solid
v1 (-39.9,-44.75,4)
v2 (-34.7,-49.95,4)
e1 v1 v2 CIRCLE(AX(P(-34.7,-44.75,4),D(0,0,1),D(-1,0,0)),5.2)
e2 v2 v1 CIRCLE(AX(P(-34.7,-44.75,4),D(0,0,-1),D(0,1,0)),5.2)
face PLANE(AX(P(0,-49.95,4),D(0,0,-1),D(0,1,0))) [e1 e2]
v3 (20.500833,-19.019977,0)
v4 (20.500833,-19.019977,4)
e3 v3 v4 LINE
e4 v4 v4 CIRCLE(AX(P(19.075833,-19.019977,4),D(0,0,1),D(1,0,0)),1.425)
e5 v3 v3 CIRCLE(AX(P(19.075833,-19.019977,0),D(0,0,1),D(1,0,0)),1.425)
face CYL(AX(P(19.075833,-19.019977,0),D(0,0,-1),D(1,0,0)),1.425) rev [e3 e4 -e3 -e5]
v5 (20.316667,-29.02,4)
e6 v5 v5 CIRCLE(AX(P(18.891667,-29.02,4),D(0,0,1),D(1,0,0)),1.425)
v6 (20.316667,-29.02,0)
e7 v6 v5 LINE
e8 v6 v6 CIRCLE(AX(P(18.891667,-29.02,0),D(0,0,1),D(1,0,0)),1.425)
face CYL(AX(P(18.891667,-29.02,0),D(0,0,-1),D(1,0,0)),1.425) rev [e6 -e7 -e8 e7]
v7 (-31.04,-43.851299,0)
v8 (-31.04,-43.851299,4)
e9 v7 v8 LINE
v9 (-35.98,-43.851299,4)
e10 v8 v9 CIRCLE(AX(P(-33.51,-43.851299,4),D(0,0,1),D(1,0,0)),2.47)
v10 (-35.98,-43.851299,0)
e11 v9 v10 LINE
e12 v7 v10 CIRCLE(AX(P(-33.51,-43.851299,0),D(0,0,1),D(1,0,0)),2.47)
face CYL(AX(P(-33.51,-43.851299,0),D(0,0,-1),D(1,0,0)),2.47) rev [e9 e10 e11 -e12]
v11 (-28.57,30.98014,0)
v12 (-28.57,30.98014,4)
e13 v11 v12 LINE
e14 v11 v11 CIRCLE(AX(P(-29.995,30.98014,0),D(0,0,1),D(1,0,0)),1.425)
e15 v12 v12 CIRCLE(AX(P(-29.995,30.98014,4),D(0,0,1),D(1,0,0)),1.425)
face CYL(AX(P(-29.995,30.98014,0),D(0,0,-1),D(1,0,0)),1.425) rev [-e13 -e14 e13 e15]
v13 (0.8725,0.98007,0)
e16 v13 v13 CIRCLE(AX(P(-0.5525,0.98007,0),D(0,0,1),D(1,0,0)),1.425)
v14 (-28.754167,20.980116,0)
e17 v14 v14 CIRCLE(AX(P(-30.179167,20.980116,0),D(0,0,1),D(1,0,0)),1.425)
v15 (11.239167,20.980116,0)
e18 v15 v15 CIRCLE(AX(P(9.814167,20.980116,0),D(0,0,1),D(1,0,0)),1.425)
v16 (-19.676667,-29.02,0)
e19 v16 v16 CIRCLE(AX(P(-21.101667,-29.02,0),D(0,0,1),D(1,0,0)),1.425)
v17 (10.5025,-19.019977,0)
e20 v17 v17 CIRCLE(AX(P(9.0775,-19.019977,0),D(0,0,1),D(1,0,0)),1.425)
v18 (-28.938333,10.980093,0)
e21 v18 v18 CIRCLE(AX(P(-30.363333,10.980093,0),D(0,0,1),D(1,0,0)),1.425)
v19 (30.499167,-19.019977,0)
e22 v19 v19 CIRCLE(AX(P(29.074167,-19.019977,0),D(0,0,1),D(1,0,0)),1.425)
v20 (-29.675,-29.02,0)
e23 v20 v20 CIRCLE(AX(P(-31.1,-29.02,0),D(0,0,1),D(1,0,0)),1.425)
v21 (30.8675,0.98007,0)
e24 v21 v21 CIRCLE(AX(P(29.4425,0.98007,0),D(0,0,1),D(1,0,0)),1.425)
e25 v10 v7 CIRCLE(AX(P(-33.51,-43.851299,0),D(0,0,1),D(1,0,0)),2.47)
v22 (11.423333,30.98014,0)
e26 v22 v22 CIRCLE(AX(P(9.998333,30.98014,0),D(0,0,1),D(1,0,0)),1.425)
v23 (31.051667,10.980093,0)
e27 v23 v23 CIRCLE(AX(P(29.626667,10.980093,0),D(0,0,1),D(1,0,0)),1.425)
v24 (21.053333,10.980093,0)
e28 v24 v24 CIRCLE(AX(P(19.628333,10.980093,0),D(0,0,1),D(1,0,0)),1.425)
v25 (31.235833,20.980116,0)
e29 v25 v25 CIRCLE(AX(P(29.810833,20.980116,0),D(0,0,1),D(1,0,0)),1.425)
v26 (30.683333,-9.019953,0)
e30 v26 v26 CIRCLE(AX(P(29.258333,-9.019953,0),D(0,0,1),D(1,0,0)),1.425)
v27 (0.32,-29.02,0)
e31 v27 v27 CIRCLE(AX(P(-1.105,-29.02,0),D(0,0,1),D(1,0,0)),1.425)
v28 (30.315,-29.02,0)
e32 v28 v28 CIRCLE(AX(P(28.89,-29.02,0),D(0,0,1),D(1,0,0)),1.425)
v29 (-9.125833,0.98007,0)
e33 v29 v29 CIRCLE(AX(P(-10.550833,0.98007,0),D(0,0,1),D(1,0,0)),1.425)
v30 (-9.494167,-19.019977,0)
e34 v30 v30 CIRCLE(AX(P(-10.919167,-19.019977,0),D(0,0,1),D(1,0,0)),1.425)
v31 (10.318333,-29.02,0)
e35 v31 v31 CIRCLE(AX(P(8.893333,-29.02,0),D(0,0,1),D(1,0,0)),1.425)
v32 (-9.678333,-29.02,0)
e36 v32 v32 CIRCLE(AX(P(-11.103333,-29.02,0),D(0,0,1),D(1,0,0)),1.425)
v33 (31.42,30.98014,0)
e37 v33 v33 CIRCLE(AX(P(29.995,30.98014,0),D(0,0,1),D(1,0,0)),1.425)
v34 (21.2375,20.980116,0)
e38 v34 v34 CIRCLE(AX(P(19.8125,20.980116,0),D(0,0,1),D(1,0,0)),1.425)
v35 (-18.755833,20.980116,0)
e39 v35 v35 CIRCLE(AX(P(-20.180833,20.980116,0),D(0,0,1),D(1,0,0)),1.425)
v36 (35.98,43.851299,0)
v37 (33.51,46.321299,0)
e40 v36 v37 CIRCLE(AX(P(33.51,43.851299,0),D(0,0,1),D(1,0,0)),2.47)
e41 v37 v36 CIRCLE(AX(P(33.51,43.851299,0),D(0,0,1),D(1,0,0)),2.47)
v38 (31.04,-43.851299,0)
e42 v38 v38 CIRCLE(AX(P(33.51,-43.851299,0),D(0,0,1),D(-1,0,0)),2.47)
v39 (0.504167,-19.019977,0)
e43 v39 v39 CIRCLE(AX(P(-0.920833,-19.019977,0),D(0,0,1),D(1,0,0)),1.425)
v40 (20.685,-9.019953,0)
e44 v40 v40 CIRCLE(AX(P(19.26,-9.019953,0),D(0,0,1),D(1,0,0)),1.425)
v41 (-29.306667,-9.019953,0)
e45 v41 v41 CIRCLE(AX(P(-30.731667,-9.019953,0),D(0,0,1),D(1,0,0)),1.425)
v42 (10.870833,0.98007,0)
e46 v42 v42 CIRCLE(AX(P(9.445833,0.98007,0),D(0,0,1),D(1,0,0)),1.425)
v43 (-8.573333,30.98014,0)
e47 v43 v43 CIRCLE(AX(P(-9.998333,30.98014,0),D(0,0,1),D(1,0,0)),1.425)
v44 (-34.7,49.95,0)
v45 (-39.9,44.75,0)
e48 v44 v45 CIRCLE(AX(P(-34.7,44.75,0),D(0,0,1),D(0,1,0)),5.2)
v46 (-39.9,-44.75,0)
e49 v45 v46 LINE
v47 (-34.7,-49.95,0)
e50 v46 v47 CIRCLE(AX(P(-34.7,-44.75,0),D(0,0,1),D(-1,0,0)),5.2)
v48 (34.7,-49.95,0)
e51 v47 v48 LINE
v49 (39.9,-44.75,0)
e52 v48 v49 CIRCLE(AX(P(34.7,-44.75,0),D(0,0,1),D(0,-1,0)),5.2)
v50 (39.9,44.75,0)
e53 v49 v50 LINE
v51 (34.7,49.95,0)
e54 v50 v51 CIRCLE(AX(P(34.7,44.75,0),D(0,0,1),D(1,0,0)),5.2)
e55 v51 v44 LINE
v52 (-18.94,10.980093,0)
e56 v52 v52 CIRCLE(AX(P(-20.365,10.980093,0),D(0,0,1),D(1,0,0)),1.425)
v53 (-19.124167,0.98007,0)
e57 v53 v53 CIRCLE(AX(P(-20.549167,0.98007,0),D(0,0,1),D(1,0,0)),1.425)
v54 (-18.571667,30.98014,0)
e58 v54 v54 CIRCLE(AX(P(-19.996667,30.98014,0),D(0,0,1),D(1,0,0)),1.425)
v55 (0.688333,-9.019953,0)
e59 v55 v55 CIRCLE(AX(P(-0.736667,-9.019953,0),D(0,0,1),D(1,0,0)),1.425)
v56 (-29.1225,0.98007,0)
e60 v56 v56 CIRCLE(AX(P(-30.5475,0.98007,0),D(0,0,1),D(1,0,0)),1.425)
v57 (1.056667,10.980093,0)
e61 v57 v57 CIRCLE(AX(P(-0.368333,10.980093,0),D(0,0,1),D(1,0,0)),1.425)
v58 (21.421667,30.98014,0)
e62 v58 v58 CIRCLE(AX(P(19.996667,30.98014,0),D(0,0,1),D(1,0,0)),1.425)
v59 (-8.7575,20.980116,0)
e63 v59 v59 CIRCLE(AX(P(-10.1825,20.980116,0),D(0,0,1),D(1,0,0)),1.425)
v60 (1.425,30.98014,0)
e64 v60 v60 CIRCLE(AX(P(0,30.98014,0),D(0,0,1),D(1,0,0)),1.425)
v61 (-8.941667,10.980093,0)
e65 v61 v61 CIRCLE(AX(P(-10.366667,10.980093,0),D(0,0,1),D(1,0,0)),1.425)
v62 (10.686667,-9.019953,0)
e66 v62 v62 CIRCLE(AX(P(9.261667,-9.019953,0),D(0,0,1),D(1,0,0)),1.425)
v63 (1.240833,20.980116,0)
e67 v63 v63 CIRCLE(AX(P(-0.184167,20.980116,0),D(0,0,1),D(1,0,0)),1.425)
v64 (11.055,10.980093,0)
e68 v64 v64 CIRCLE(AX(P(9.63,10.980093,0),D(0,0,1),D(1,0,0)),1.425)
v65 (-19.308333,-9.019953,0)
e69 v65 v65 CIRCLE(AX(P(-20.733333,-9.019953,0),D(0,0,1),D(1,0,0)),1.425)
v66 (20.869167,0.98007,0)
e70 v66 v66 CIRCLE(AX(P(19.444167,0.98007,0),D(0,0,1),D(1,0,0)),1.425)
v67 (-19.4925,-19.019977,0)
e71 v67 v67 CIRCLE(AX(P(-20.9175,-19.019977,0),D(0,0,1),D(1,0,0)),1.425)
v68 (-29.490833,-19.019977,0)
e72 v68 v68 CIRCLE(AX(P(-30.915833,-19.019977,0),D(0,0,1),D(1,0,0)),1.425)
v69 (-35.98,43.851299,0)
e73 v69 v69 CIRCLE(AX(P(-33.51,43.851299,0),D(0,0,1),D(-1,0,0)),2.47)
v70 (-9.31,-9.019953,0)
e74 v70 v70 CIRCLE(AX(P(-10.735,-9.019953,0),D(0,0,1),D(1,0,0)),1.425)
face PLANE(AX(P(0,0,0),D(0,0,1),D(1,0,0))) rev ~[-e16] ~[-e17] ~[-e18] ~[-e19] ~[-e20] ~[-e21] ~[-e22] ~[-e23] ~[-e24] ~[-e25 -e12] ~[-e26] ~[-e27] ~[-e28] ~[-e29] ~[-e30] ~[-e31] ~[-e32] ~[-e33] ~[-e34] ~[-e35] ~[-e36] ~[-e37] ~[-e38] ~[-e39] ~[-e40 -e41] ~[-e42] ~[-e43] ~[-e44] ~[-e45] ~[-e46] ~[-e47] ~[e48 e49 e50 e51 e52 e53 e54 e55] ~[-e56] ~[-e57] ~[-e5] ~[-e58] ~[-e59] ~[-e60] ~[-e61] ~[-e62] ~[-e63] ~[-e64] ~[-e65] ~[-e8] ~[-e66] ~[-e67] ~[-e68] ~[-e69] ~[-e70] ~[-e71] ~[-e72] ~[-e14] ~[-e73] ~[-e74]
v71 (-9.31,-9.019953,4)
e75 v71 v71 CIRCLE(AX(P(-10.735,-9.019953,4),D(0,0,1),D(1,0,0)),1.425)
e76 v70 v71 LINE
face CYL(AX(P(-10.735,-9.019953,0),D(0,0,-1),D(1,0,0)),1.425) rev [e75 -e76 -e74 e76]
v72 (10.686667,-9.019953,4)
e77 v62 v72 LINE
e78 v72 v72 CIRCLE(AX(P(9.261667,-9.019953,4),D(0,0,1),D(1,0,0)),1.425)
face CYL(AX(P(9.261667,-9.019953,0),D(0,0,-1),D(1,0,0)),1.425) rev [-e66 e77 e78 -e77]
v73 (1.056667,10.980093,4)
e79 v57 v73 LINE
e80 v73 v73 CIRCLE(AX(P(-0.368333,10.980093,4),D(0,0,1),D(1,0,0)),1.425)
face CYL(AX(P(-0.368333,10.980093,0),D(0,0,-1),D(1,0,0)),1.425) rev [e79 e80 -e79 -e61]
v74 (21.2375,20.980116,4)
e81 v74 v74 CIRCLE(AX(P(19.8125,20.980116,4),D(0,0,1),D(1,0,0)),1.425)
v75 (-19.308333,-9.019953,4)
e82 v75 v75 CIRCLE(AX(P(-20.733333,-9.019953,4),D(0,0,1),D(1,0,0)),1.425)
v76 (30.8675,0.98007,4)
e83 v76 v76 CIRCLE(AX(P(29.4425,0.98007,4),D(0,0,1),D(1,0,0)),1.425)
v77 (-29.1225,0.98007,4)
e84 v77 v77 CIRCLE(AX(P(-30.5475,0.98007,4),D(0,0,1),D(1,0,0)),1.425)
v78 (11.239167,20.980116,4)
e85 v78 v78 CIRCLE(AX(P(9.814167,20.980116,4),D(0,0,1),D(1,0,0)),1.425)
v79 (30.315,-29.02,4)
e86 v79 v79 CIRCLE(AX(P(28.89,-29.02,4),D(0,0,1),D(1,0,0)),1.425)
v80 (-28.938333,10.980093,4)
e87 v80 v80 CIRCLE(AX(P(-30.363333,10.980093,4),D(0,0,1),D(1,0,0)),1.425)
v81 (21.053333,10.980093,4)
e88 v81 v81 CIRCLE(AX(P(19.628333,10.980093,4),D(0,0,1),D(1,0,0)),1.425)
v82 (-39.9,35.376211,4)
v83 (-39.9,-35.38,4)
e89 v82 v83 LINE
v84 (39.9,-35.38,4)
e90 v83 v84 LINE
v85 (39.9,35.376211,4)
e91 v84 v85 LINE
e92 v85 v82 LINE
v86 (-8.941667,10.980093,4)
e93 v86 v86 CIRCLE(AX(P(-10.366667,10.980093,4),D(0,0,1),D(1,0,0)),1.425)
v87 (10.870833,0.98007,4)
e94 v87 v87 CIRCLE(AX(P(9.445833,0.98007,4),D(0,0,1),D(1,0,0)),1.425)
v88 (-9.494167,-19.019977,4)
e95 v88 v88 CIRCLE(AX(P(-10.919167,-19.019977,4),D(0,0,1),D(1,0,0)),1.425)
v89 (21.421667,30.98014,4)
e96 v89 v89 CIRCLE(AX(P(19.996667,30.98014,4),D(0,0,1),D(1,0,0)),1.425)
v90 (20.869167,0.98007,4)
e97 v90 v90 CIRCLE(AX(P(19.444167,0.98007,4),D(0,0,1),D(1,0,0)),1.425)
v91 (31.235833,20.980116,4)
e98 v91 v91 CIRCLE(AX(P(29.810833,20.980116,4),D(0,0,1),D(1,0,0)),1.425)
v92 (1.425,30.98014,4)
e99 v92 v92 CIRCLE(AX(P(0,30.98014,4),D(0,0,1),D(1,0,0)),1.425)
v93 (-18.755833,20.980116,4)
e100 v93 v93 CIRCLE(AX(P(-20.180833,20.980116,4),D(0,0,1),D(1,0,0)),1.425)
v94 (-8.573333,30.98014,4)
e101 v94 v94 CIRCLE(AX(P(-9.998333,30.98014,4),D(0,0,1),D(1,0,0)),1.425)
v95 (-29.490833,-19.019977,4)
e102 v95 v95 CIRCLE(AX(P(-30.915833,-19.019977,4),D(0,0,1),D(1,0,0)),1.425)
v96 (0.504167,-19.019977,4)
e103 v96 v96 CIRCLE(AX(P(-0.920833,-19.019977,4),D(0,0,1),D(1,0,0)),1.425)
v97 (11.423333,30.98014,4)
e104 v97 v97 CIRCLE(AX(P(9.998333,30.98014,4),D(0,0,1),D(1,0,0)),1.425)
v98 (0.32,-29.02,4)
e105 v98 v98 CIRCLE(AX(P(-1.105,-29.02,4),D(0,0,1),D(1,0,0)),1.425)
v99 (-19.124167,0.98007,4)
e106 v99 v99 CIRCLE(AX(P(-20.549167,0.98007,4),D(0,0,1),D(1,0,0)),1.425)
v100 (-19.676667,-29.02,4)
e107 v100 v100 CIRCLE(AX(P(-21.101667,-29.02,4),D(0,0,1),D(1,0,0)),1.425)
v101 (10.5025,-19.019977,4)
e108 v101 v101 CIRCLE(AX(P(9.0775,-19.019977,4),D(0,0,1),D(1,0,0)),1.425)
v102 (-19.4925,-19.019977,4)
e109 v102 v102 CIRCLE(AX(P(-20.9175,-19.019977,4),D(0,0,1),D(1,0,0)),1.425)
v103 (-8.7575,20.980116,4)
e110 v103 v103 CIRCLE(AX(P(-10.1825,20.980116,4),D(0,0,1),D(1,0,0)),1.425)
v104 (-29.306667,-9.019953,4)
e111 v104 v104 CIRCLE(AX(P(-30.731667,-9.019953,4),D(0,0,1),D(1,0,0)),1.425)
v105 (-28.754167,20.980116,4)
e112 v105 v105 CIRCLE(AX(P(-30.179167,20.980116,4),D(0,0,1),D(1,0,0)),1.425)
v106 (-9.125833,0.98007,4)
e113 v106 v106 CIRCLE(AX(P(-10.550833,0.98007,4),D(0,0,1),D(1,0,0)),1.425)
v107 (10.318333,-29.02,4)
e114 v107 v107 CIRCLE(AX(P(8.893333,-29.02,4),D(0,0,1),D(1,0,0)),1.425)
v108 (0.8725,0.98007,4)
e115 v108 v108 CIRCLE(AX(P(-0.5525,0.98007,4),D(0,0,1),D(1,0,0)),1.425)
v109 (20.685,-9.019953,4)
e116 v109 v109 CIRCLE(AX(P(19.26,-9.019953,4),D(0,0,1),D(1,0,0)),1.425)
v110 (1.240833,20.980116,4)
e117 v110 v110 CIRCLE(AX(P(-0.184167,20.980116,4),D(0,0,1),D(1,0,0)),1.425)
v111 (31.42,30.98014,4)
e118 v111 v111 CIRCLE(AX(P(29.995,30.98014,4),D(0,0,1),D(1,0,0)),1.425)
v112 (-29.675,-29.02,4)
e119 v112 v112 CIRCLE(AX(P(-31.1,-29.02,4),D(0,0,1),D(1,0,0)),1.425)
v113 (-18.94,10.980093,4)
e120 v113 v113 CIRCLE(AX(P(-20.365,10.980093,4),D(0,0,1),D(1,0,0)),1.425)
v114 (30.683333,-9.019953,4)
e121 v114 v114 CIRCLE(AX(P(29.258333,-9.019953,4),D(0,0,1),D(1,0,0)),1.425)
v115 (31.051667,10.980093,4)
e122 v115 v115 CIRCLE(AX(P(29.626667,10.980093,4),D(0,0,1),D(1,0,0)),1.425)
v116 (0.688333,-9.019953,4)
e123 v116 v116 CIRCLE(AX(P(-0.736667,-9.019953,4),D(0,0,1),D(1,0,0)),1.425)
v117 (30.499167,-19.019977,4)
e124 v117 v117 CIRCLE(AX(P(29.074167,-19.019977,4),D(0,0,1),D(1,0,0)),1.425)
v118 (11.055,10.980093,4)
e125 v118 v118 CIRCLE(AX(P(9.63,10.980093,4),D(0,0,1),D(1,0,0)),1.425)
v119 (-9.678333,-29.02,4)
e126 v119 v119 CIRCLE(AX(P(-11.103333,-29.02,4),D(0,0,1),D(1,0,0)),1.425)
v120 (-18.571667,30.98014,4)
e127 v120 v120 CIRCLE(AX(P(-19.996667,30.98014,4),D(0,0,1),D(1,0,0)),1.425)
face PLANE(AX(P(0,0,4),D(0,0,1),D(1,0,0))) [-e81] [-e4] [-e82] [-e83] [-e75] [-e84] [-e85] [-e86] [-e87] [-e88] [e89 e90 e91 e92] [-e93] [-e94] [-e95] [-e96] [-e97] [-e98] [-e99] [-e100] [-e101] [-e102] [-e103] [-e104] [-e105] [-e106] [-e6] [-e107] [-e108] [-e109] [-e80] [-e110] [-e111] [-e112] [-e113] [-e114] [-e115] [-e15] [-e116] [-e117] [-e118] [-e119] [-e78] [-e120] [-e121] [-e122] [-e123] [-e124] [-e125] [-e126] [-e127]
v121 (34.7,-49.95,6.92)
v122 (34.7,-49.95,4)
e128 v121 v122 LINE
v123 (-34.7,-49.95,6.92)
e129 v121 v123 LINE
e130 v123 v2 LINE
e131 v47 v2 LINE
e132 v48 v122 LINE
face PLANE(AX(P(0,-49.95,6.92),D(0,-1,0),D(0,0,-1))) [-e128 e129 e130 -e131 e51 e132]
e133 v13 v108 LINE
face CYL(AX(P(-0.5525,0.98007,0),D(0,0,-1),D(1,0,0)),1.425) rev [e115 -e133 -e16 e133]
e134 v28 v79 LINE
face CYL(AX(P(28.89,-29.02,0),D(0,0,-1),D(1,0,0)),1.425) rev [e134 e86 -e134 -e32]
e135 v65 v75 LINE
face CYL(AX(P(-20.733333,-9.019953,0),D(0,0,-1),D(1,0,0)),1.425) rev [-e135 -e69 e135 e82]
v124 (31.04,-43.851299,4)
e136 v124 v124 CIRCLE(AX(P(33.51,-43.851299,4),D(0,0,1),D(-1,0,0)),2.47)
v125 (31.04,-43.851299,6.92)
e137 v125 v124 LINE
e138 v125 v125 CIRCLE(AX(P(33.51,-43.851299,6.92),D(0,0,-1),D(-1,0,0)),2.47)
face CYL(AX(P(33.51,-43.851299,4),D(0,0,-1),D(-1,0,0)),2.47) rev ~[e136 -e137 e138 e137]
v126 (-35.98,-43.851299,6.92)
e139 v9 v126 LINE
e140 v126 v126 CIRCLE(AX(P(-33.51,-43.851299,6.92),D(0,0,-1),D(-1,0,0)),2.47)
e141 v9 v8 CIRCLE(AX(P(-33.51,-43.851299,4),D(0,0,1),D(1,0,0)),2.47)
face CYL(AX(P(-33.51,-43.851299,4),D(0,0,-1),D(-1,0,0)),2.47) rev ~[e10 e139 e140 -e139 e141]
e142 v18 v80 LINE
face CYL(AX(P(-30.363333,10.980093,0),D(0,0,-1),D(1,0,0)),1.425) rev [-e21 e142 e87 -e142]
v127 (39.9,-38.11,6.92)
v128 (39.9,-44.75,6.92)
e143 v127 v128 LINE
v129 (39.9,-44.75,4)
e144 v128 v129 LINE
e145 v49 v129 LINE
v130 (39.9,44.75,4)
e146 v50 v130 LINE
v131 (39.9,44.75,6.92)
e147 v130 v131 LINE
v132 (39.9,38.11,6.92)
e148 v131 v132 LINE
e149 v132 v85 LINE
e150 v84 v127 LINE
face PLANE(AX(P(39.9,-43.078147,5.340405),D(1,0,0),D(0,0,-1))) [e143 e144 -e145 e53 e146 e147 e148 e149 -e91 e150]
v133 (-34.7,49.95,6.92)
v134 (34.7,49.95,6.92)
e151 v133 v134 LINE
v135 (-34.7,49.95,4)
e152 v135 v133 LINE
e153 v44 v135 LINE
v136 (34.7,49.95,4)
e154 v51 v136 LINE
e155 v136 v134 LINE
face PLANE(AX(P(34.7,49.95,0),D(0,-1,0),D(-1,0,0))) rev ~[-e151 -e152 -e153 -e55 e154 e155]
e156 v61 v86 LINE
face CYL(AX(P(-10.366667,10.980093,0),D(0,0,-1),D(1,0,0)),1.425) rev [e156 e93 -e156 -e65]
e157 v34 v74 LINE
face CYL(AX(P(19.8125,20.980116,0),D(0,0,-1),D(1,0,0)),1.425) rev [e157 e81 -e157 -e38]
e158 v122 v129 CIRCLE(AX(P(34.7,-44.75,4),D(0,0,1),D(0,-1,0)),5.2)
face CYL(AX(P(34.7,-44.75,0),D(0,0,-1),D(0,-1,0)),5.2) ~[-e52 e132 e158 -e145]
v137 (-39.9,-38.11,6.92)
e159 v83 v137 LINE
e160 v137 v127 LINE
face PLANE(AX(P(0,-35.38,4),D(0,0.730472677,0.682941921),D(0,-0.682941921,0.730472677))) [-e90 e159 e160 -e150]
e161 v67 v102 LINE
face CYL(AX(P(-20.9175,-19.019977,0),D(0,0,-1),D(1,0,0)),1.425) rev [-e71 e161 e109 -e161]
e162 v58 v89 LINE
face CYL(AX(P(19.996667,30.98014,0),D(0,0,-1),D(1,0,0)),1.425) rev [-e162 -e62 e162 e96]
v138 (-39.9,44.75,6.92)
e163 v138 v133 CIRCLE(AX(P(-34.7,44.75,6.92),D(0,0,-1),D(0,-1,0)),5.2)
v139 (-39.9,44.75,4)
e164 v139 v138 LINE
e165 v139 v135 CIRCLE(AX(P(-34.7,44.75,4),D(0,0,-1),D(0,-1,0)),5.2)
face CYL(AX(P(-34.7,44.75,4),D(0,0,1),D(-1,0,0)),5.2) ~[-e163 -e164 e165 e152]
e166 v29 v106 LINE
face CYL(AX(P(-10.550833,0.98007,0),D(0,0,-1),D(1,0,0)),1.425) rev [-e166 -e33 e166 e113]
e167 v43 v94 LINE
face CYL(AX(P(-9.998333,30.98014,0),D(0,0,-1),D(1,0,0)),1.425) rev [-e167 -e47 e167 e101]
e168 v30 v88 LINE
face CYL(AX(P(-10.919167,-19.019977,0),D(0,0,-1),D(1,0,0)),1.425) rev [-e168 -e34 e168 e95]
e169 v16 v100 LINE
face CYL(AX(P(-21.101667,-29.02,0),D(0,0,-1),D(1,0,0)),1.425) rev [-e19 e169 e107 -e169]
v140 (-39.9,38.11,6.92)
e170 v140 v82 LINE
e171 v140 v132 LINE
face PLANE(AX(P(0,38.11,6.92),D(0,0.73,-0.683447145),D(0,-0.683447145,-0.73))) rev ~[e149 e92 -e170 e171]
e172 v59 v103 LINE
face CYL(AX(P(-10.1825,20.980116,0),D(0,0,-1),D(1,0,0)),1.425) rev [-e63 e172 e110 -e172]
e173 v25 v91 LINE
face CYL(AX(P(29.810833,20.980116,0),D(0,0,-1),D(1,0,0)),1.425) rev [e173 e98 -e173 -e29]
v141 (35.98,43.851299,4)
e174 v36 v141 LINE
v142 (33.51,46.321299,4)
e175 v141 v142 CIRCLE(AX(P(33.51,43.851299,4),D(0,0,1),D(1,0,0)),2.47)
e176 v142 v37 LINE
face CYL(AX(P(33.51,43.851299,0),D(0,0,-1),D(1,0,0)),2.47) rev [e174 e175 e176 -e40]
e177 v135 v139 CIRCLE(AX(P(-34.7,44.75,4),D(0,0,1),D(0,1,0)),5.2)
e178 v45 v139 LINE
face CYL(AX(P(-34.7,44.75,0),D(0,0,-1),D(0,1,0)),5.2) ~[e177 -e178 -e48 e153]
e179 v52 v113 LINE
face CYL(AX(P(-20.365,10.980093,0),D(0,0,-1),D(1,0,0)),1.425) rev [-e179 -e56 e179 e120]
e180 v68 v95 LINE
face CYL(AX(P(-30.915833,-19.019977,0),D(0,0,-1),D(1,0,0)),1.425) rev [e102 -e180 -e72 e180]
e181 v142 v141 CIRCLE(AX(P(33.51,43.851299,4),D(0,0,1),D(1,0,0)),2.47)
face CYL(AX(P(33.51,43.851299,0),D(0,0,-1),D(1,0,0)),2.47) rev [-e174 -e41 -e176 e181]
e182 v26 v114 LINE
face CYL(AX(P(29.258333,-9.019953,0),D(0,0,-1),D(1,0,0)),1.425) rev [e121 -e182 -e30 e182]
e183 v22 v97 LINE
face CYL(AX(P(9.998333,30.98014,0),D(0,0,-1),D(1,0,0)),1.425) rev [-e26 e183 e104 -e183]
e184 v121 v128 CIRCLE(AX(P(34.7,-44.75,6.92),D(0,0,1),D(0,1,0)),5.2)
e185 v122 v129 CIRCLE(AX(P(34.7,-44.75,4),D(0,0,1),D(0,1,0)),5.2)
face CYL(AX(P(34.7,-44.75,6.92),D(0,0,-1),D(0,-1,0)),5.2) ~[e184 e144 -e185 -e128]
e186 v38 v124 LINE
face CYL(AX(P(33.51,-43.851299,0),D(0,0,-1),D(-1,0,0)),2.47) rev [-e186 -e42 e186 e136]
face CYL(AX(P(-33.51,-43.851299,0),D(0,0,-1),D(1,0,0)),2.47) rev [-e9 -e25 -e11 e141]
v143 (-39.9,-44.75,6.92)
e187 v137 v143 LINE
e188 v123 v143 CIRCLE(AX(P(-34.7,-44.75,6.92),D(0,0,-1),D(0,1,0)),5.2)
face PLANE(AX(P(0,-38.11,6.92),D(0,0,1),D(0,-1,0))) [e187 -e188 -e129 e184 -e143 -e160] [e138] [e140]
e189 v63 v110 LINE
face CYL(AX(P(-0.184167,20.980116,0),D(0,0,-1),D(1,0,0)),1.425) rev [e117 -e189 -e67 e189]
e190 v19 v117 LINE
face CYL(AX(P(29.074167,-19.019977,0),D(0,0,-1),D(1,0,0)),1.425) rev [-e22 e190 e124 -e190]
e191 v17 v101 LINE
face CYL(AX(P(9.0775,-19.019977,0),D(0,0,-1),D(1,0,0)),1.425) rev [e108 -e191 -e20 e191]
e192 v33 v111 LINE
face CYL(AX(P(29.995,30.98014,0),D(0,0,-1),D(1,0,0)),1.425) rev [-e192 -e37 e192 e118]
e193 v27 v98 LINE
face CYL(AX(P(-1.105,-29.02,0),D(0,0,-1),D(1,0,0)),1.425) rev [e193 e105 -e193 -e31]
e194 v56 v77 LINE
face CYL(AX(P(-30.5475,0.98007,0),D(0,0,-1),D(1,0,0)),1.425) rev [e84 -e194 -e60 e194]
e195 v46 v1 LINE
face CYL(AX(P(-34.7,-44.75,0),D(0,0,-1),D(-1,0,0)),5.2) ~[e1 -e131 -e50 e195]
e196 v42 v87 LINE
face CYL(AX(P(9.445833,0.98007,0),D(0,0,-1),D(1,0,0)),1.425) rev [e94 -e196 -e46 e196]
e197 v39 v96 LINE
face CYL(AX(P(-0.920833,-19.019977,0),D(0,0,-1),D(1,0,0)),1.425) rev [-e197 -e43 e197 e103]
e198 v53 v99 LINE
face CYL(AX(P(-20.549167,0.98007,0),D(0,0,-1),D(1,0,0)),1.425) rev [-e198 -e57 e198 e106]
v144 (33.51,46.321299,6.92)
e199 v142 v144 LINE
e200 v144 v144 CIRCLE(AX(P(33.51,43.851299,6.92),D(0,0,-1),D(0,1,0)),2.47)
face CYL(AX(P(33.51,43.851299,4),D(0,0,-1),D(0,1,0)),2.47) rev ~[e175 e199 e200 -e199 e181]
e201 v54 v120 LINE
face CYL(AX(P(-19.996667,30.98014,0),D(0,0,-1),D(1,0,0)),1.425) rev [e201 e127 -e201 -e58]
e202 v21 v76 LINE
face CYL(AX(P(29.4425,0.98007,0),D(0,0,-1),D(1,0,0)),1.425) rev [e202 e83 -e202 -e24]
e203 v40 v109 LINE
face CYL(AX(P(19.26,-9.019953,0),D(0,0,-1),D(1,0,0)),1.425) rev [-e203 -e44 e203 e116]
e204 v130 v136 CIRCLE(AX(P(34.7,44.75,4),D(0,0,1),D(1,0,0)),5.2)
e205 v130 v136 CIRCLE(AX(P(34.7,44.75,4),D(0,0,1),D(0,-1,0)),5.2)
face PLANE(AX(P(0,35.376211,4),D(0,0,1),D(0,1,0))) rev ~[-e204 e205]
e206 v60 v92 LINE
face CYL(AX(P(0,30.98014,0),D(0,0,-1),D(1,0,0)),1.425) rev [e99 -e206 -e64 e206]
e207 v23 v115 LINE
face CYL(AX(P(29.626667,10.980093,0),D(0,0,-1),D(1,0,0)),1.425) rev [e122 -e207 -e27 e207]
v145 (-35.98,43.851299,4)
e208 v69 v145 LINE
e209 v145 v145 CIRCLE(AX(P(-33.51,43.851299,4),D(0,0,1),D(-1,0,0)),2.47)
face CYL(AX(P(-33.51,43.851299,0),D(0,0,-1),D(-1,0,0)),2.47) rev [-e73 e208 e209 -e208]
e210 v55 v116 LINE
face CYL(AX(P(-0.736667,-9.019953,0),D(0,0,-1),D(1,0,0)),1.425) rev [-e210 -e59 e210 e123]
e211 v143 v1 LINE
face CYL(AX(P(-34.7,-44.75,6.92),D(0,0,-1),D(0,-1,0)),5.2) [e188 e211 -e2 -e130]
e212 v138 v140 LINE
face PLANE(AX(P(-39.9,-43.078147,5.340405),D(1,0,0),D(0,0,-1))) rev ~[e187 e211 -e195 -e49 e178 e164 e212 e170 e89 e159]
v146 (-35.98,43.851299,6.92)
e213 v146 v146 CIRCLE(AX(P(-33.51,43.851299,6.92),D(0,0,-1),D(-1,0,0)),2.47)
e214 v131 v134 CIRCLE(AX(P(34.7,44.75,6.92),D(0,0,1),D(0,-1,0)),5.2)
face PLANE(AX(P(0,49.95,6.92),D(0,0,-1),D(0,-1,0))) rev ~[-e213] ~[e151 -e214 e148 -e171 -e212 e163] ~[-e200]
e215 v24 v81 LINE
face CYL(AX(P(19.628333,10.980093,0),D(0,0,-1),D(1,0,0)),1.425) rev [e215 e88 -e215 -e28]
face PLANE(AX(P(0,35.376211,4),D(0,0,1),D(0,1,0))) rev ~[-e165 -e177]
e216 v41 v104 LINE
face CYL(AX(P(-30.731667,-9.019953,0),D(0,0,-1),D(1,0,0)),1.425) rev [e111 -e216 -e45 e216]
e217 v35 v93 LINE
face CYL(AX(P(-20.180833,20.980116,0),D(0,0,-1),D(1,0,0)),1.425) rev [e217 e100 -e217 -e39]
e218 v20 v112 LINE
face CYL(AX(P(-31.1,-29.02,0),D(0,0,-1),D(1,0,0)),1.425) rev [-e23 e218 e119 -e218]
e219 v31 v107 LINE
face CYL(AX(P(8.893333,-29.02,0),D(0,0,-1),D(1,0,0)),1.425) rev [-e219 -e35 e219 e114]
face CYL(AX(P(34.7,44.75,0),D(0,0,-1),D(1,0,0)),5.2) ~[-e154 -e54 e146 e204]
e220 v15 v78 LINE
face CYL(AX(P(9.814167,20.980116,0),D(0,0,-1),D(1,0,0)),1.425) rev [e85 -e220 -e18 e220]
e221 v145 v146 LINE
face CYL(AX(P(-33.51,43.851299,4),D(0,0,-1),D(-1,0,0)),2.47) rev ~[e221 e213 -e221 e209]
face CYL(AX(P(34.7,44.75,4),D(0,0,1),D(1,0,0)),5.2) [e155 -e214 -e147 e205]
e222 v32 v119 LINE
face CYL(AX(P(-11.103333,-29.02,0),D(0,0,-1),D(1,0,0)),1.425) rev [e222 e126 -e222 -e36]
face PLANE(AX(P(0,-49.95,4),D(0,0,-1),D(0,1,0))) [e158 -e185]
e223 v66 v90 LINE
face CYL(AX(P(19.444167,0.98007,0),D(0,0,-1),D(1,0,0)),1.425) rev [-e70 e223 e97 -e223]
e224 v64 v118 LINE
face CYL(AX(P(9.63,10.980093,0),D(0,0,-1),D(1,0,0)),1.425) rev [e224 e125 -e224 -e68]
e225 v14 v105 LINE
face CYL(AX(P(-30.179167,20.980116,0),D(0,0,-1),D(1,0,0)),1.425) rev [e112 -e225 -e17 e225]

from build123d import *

# Parameters (mm, degrees)
SKETCH2_R           = 2.47
SKETCH2_R_2         = 1.425
BOSS_EXTRUDE1_DEPTH = 4
BOSS_EXTRUDE3_DEPTH = 39.9
FILLET6_R           = 5.2
SKETCH7_R           = 2.47
CUT_EXTRUDE2_DEPTH  = 39.9


with BuildPart() as part:
    # Sketch2 → Boss-Extrude1 (new body)
    with BuildSketch(Plane.XY):
        with BuildLine():
            Line((-34.7, -49.95), (34.7, -49.95))
            ThreePointArc((34.7, -49.95), (38.376955262, -48.426955262), (39.9, -44.75))
            Line((39.9, -44.75), (39.9, 44.75))
            ThreePointArc((39.9, 44.75), (38.376955262, 48.426955262), (34.7, 49.95))
            Line((34.7, 49.95), (-34.7, 49.95))
            ThreePointArc((-34.7, 49.95), (-38.376955262, 48.426955262), (-39.9, 44.75))
            Line((-39.9, 44.75), (-39.9, -44.75))
            ThreePointArc((-39.9, -44.75), (-38.376955262, -48.426955262), (-34.7, -49.95))
        make_face()
        with Locations((-33.51, -43.851299187)):
            Circle(SKETCH2_R, mode=Mode.SUBTRACT)
        with Locations(Location((33.51, -43.851299187, 0), (0, 0, 180))):
            Circle(SKETCH2_R, mode=Mode.SUBTRACT)
        with Locations((33.51, 43.851299187)):
            Circle(SKETCH2_R, mode=Mode.SUBTRACT)
        with Locations(Location((-33.51, 43.851299187, 0), (0, 0, 180))):
            Circle(SKETCH2_R, mode=Mode.SUBTRACT)
        with Locations((28.89, -29.02)):
            Circle(SKETCH2_R_2, mode=Mode.SUBTRACT)
        with Locations((18.891666667, -29.02)):
            Circle(SKETCH2_R_2, mode=Mode.SUBTRACT)
        with Locations((8.893333333, -29.02)):
            Circle(SKETCH2_R_2, mode=Mode.SUBTRACT)
        with Locations((-1.105, -29.02)):
            Circle(SKETCH2_R_2, mode=Mode.SUBTRACT)
        with Locations((-11.103333333, -29.02)):
            Circle(SKETCH2_R_2, mode=Mode.SUBTRACT)
        with Locations((-21.101666667, -29.02)):
            Circle(SKETCH2_R_2, mode=Mode.SUBTRACT)
        with Locations((-31.1, -29.02)):
            Circle(SKETCH2_R_2, mode=Mode.SUBTRACT)
        with Locations((19.075833333, -19.019976749)):
            Circle(SKETCH2_R_2, mode=Mode.SUBTRACT)
        with Locations((9.0775, -19.019976749)):
            Circle(SKETCH2_R_2, mode=Mode.SUBTRACT)
        with Locations((-0.920833333, -19.019976749)):
            Circle(SKETCH2_R_2, mode=Mode.SUBTRACT)
        with Locations((-10.919166667, -19.019976749)):
            Circle(SKETCH2_R_2, mode=Mode.SUBTRACT)
        with Locations((-20.9175, -19.019976749)):
            Circle(SKETCH2_R_2, mode=Mode.SUBTRACT)
        with Locations((-30.915833333, -19.019976749)):
            Circle(SKETCH2_R_2, mode=Mode.SUBTRACT)
        with Locations((19.26, -9.019953499)):
            Circle(SKETCH2_R_2, mode=Mode.SUBTRACT)
        with Locations((9.261666667, -9.019953499)):
            Circle(SKETCH2_R_2, mode=Mode.SUBTRACT)
        with Locations((-0.736666667, -9.019953499)):
            Circle(SKETCH2_R_2, mode=Mode.SUBTRACT)
        with Locations((-10.735, -9.019953499)):
            Circle(SKETCH2_R_2, mode=Mode.SUBTRACT)
        with Locations((-20.733333333, -9.019953499)):
            Circle(SKETCH2_R_2, mode=Mode.SUBTRACT)
        with Locations((-30.731666667, -9.019953499)):
            Circle(SKETCH2_R_2, mode=Mode.SUBTRACT)
        with Locations((19.444166667, 0.980069752)):
            Circle(SKETCH2_R_2, mode=Mode.SUBTRACT)
        with Locations((9.445833333, 0.980069752)):
            Circle(SKETCH2_R_2, mode=Mode.SUBTRACT)
        with Locations((-0.5525, 0.980069752)):
            Circle(SKETCH2_R_2, mode=Mode.SUBTRACT)
        with Locations((-10.550833333, 0.980069752)):
            Circle(SKETCH2_R_2, mode=Mode.SUBTRACT)
        with Locations((-20.549166667, 0.980069752)):
            Circle(SKETCH2_R_2, mode=Mode.SUBTRACT)
        with Locations((-30.5475, 0.980069752)):
            Circle(SKETCH2_R_2, mode=Mode.SUBTRACT)
        with Locations((19.628333333, 10.980093003)):
            Circle(SKETCH2_R_2, mode=Mode.SUBTRACT)
        with Locations((9.63, 10.980093003)):
            Circle(SKETCH2_R_2, mode=Mode.SUBTRACT)
        with Locations((-0.368333333, 10.980093003)):
            Circle(SKETCH2_R_2, mode=Mode.SUBTRACT)
        with Locations((-10.366666667, 10.980093003)):
            Circle(SKETCH2_R_2, mode=Mode.SUBTRACT)
        with Locations((-20.365, 10.980093003)):
            Circle(SKETCH2_R_2, mode=Mode.SUBTRACT)
        with Locations((-30.363333333, 10.980093003)):
            Circle(SKETCH2_R_2, mode=Mode.SUBTRACT)
        with Locations((19.8125, 20.980116253)):
            Circle(SKETCH2_R_2, mode=Mode.SUBTRACT)
        with Locations((9.814166667, 20.980116253)):
            Circle(SKETCH2_R_2, mode=Mode.SUBTRACT)
        with Locations((-0.184166667, 20.980116253)):
            Circle(SKETCH2_R_2, mode=Mode.SUBTRACT)
        with Locations((-10.1825, 20.980116253)):
            Circle(SKETCH2_R_2, mode=Mode.SUBTRACT)
        with Locations((-20.180833333, 20.980116253)):
            Circle(SKETCH2_R_2, mode=Mode.SUBTRACT)
        with Locations((-30.179166667, 20.980116253)):
            Circle(SKETCH2_R_2, mode=Mode.SUBTRACT)
        with Locations((19.996666667, 30.980139504)):
            Circle(SKETCH2_R_2, mode=Mode.SUBTRACT)
        with Locations((9.998333333, 30.980139504)):
            Circle(SKETCH2_R_2, mode=Mode.SUBTRACT)
        with Locations((0, 30.980139504)):
            Circle(SKETCH2_R_2, mode=Mode.SUBTRACT)
        with Locations((-9.998333333, 30.980139504)):
            Circle(SKETCH2_R_2, mode=Mode.SUBTRACT)
        with Locations((-19.996666667, 30.980139504)):
            Circle(SKETCH2_R_2, mode=Mode.SUBTRACT)
        with Locations((-29.995, 30.980139504)):
            Circle(SKETCH2_R_2, mode=Mode.SUBTRACT)
        with Locations((29.074166667, -19.019976749)):
            Circle(SKETCH2_R_2, mode=Mode.SUBTRACT)
        with Locations((29.258333333, -9.019953499)):
            Circle(SKETCH2_R_2, mode=Mode.SUBTRACT)
        with Locations((29.4425, 0.980069752)):
            Circle(SKETCH2_R_2, mode=Mode.SUBTRACT)
        with Locations((29.626666667, 10.980093003)):
            Circle(SKETCH2_R_2, mode=Mode.SUBTRACT)
        with Locations((29.810833333, 20.980116253)):
            Circle(SKETCH2_R_2, mode=Mode.SUBTRACT)
        with Locations((29.995, 30.980139504)):
            Circle(SKETCH2_R_2, mode=Mode.SUBTRACT)
    extrude(amount=BOSS_EXTRUDE1_DEPTH)

    # Sketch3 → Boss-Extrude3 (add, symmetric)
    with BuildSketch(Plane(origin=(0, 0, 0), x_dir=(0, 0, -1), z_dir=(1, 0, 0))):
        Polygon((-4, 49.95), (-6.92, 49.95), (-6.92, 38.11), (-4, 35.37621142), align=None)
        Polygon((-4, -49.95), (-4, -35.38), (-6.92, -38.11), (-6.92, -49.95), align=None)
    extrude(amount=BOSS_EXTRUDE3_DEPTH, both=True)

    # Fillet6
    fillet6_edges = [part.edges().sort_by_distance(p)[0] for p in [
        (39.9, 49.95, 5.46),
        (-39.9, 49.95, 5.46),
        (-39.9, -49.95, 5.46),
        (39.9, -49.95, 5.46),
    ]]
    fillet(fillet6_edges, radius=FILLET6_R)

    # Sketch7 → Cut-Extrude2 (cut, symmetric)
    with BuildSketch(Plane(origin=(0, 0, 4), x_dir=(-1, 0, 0), z_dir=(0, 0, -1))):
        with Locations(Location((-33.51, 43.851299187, 0), (0, 0, 90))):
            Circle(SKETCH7_R)
        with Locations((33.51, 43.851299187)):
            Circle(SKETCH7_R)
        with Locations((33.51, -43.851299187)):
            Circle(SKETCH7_R)
        with Locations((-33.51, -43.851299187)):
            Circle(SKETCH7_R)
    extrude(amount=CUT_EXTRUDE2_DEPTH, both=True, mode=Mode.SUBTRACT)


solid = part.part
